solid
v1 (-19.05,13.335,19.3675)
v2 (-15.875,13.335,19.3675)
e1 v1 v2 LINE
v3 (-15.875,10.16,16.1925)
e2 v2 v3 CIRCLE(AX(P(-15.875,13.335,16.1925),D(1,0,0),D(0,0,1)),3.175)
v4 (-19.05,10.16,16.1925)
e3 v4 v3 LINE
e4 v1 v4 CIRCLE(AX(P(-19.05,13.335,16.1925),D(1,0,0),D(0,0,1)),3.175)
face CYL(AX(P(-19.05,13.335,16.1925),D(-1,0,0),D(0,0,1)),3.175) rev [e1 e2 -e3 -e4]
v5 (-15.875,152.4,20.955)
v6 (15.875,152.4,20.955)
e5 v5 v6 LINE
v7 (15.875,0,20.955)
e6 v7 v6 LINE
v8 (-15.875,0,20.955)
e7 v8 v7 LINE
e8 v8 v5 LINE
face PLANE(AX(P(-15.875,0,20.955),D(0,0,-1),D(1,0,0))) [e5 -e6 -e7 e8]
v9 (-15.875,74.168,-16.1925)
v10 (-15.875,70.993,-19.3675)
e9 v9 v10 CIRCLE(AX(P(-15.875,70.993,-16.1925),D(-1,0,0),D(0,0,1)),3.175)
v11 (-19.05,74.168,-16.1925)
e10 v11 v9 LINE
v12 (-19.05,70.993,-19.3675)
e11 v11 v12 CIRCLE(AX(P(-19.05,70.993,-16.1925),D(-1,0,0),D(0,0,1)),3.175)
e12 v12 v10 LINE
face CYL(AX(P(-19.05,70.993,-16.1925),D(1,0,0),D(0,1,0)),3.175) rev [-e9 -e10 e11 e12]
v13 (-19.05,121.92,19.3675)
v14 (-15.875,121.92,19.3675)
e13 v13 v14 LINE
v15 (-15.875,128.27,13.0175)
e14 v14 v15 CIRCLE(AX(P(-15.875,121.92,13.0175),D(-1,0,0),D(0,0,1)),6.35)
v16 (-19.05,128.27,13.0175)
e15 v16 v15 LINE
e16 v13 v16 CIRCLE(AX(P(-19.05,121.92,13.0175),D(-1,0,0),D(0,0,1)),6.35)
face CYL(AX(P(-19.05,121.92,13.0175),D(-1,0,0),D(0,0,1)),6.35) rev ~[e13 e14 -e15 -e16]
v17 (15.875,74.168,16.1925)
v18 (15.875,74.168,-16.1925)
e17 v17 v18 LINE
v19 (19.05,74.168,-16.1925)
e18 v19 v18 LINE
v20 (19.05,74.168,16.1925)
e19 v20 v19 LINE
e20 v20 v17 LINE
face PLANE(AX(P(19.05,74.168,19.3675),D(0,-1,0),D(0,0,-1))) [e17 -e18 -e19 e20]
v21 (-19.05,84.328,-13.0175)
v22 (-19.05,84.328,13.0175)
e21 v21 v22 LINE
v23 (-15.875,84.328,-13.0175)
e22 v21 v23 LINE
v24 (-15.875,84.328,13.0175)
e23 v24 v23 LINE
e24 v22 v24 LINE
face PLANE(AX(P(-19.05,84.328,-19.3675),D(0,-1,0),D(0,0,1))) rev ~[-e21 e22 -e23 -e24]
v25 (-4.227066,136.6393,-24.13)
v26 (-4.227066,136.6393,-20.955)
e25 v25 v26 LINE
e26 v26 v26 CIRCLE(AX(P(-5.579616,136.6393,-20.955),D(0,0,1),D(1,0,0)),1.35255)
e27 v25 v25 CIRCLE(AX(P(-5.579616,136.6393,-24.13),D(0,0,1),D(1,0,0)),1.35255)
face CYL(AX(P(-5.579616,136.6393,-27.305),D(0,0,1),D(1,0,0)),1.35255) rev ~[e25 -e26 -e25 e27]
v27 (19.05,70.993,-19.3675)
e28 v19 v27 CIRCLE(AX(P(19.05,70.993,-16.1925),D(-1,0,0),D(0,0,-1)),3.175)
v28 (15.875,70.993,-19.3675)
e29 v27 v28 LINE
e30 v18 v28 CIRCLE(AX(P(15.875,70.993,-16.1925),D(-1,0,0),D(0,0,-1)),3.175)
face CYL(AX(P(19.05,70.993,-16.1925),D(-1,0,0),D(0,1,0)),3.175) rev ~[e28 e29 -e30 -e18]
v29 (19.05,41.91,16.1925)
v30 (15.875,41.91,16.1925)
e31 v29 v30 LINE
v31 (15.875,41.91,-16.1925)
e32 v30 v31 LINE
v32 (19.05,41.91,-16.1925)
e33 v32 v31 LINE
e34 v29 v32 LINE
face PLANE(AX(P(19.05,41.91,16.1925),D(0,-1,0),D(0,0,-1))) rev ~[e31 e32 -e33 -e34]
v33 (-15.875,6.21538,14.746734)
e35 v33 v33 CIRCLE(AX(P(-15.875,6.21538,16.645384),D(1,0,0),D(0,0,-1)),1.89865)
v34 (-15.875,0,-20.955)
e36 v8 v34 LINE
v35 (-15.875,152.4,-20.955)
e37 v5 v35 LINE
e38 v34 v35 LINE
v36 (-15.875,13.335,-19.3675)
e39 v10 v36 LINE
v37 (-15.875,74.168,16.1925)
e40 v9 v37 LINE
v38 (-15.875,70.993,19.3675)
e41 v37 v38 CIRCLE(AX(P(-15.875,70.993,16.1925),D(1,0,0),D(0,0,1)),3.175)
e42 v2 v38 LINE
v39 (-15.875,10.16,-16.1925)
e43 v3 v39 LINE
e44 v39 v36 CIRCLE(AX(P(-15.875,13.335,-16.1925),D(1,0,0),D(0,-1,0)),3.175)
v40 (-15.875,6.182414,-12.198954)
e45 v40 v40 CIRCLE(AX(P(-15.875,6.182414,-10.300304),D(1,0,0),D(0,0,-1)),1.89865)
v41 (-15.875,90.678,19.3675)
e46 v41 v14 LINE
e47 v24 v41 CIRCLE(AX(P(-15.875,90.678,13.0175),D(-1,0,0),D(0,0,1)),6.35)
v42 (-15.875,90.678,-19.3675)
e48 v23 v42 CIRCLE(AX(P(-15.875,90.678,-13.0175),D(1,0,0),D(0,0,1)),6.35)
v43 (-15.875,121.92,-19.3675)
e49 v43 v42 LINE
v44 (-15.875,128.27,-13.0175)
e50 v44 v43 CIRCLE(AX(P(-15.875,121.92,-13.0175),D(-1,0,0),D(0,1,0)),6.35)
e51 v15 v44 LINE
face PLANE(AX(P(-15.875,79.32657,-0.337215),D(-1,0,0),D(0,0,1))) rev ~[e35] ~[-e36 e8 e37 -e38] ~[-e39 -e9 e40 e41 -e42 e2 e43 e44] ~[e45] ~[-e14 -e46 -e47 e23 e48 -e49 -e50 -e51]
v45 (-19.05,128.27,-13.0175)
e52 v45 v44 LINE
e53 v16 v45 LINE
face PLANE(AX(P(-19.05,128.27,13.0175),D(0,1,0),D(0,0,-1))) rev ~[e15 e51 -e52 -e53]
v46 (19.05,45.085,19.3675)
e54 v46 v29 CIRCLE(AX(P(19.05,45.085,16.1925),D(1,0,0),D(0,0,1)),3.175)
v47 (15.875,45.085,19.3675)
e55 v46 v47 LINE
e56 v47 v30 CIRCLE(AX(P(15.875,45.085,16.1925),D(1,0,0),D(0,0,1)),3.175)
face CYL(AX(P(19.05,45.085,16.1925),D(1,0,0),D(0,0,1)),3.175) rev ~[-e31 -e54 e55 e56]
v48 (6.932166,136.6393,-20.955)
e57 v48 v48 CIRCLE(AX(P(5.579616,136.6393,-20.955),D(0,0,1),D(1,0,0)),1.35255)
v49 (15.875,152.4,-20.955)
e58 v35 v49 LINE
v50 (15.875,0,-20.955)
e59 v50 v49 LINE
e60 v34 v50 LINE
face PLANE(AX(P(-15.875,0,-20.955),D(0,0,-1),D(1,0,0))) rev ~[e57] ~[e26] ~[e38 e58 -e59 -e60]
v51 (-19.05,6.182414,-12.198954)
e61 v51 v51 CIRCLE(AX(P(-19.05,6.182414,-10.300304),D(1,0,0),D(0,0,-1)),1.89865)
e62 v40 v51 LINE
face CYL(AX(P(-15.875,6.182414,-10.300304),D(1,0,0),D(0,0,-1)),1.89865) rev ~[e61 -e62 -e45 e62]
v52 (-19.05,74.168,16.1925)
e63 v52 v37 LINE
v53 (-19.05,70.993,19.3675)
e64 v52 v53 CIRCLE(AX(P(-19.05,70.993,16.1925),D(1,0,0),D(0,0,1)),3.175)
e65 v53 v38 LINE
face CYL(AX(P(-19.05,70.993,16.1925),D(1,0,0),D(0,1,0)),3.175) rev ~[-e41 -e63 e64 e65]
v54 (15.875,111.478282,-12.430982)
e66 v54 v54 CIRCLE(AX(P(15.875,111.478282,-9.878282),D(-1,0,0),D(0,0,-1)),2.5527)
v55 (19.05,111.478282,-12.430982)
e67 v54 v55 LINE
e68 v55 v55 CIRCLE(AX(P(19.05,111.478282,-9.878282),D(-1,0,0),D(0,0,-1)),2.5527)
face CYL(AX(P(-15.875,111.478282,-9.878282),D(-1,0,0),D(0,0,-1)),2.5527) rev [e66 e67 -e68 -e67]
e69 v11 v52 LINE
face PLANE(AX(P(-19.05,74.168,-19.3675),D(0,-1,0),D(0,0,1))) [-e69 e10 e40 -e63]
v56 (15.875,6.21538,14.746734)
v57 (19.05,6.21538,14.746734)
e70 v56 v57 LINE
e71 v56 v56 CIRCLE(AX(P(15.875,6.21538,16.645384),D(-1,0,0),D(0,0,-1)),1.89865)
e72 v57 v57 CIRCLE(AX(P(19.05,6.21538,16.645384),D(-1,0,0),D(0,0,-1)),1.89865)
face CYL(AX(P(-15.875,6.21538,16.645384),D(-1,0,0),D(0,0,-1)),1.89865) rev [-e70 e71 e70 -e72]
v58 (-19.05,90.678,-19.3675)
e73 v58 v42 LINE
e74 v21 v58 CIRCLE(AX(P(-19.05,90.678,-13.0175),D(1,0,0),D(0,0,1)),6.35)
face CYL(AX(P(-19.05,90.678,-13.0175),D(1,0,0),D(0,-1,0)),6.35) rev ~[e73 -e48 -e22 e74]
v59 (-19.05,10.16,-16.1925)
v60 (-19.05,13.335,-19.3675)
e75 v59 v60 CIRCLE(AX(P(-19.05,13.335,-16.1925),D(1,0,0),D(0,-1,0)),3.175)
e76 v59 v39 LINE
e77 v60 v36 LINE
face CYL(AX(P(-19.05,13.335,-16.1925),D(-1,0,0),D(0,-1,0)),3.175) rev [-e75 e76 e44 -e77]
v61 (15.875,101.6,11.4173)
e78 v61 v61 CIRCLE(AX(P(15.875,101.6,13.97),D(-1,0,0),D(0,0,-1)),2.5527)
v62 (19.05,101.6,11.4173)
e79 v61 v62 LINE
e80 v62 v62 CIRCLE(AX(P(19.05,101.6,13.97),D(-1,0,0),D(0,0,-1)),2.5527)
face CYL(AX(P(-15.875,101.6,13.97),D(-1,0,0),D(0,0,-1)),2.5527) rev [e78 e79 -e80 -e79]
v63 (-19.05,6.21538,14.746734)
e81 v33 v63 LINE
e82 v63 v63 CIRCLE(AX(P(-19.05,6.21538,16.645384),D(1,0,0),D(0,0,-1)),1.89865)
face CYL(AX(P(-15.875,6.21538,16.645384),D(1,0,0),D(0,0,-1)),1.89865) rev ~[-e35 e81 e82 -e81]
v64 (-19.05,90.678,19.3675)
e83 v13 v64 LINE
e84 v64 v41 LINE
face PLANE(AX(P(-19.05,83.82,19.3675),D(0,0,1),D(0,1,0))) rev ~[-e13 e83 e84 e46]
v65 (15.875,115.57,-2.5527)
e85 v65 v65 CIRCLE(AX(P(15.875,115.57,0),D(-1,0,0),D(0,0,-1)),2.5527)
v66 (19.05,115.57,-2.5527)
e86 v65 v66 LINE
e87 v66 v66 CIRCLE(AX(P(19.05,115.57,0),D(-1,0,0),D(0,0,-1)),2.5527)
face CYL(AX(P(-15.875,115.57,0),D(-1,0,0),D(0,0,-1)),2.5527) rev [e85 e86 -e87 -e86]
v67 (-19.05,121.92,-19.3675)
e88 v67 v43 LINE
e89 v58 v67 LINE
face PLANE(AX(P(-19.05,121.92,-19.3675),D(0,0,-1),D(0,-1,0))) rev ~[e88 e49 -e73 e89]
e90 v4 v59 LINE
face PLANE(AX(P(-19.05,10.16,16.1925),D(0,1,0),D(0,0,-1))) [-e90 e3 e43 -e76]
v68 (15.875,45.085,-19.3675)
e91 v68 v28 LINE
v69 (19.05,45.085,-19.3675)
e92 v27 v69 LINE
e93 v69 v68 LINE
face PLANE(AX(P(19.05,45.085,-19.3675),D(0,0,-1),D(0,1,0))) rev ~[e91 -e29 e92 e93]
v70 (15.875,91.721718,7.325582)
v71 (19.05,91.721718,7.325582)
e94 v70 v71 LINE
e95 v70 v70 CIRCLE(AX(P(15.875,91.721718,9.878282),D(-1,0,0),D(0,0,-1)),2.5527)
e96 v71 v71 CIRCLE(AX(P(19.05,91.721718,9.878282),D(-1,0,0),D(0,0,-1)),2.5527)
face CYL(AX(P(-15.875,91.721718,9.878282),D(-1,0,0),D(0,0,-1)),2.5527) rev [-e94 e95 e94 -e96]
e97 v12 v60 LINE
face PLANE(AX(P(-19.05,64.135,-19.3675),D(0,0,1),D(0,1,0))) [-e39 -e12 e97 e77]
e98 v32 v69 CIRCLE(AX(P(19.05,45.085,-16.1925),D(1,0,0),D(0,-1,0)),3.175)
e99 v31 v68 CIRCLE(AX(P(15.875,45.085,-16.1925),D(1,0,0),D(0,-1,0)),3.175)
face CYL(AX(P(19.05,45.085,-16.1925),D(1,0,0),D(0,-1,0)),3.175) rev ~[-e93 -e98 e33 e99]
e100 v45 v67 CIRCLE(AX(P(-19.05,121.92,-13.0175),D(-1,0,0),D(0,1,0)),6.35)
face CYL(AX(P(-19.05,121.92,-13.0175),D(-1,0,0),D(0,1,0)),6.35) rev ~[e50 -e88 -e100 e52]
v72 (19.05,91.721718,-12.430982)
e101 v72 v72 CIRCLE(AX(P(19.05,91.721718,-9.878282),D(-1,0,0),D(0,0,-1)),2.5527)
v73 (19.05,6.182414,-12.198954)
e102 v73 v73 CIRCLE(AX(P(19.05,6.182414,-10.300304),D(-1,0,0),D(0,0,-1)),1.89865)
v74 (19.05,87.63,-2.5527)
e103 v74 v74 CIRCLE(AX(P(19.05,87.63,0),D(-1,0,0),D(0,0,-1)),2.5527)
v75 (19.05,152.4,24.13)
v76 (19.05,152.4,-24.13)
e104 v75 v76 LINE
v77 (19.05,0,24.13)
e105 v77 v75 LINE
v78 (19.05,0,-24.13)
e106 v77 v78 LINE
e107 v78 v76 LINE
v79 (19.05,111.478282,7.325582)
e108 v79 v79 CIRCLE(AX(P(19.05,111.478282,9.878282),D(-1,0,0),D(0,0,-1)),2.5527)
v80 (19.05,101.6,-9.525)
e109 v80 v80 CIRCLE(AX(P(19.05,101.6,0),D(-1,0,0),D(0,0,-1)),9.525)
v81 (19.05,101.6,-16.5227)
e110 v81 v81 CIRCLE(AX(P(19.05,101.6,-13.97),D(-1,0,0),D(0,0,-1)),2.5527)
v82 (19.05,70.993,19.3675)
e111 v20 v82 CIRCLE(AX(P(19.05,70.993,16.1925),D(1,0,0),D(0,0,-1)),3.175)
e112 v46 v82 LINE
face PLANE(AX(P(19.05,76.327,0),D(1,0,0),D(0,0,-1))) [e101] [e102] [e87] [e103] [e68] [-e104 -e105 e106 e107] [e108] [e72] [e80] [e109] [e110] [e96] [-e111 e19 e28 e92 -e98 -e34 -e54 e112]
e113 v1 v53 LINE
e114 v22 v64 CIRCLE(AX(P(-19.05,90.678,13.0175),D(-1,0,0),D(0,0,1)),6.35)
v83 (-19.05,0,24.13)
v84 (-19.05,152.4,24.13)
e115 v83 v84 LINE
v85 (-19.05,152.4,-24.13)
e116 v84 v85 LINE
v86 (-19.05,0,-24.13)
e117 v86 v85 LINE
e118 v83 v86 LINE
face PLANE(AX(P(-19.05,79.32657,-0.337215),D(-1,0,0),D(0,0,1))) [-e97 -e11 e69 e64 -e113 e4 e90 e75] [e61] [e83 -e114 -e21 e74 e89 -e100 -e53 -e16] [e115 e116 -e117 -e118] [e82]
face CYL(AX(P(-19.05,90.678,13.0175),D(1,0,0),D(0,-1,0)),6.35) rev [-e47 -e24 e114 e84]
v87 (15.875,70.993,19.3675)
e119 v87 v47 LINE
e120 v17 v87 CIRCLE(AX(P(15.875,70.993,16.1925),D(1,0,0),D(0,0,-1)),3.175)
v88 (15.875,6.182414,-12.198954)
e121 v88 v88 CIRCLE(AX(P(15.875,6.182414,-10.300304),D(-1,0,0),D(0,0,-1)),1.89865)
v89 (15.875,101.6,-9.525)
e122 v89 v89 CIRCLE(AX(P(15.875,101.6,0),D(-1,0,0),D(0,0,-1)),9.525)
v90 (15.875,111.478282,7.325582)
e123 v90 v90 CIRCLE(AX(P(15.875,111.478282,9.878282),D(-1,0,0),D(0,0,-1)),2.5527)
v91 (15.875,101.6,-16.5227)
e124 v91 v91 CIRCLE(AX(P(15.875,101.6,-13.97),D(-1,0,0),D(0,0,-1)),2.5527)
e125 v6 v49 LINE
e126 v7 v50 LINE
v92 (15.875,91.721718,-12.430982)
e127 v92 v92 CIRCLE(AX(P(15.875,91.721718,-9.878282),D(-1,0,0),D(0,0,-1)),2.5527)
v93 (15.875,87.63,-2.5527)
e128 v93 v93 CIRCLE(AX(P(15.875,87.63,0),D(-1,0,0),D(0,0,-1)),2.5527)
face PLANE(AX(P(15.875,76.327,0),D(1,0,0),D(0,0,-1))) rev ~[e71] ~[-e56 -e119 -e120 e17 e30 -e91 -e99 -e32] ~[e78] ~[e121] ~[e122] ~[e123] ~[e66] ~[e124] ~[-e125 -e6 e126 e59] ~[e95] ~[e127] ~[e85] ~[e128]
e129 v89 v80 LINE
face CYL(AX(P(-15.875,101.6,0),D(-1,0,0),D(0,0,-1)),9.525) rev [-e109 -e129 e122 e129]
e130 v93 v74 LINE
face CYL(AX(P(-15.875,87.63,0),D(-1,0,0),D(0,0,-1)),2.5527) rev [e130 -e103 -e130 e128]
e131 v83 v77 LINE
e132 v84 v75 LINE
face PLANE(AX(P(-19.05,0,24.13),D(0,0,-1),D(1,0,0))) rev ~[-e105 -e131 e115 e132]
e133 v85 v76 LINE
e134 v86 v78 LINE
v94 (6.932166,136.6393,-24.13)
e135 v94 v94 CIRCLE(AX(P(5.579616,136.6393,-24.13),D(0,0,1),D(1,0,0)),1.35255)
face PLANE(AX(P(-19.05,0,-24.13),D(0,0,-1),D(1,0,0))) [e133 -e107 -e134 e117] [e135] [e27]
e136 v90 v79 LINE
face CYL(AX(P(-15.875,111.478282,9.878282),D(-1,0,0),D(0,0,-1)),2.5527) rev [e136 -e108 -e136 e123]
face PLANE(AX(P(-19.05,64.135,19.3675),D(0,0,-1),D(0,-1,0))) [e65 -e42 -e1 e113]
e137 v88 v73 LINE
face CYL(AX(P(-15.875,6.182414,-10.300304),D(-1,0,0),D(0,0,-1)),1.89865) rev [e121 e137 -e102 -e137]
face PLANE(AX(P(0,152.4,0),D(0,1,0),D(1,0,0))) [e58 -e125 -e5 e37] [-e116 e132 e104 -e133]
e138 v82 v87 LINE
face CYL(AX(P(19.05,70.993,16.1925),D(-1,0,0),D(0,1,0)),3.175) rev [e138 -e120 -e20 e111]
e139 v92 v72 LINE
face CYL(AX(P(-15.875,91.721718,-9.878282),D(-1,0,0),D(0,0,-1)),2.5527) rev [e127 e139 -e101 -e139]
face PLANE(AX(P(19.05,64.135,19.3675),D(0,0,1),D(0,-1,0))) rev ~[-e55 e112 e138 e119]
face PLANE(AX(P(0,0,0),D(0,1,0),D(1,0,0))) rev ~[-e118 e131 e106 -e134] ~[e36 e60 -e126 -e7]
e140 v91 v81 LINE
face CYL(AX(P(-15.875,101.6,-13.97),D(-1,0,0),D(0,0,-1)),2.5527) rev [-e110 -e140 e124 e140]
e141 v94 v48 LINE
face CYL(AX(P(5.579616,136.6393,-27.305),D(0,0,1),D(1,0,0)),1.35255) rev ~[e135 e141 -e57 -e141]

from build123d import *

# Parameters (mm, degrees)
SKETCH1_W                      = 38.1
SKETCH1_H                      = 48.26
SKETCH1_W_2                    = 31.75
SKETCH1_H_2                    = 41.91
BOSS_EXTRUDE1_DEPTH            = 152.4
SKETCH2_R                      = 1.89865
CUT_EXTRUDE1_DEPTH             = 35.925
CUT_EXTRUDE1_DEPTH_BACK        = 4.175
CUT_EXTRUDE3_DEPTH             = 3.175
CUT_EXTRUDE4_DEPTH             = 3.175
CUT_EXTRUDE5_REACH             = 36.925
SKETCH6_R                      = 9.525
SKETCH6_R_2                    = 2.5527
CUT_EXTRUDE6_DEPTH             = 3.175
F_6_32_TAPPED_HOLE2_D          = 2.7051
F_6_32_TAPPED_HOLE2_DEPTH      = 3.175
CUT_EXTRUDE7_REACH             = 40.1
CUT_EXTRUDE7_DIRECTION_2_DEPTH = 1
FILLET1_R                      = 3.175
FILLET2_R                      = 3.175
BOSS_EXTRUDE2_DEPTH            = 3.175
CUT_EXTRUDE8_REACH             = 40.1
FILLET3_R                      = 3.175
FILLET4_R                      = 3.175
FILLET5_R                      = 6.35
FILLET6_R                      = 6.35
BOSS_EXTRUDE3_DEPTH            = 3.175
CUT_EXTRUDE9_REACH             = 40.1
BOSS_EXTRUDE4_DEPTH            = 3.175
FILLET7_R                      = 3.175
FILLET8_R                      = 3.175
FILLET9_R                      = 3.175
FILLET10_R                     = 3.175
FILLET11_R                     = 6.35
FILLET12_R                     = 6.35


with BuildPart() as part:
    # Sketch1 → Boss-Extrude1 (new body)
    with BuildSketch(Plane(origin=(0, 0, 0), x_dir=(1, 0, 0), z_dir=(0, 1, 0))):
        Rectangle(SKETCH1_W, SKETCH1_H)
        Rectangle(SKETCH1_W_2, SKETCH1_H_2, mode=Mode.SUBTRACT)
    extrude(amount=BOSS_EXTRUDE1_DEPTH)

    # Sketch2 → Cut-Extrude1 (cut, two sides)
    with BuildSketch(Plane(origin=(-15.875, 0, 0), x_dir=(0, 0, -1), z_dir=(1, 0, 0))) as cut_extrude1_sk:
        with Locations((-16.645384182, 6.21538)):
            Circle(SKETCH2_R)
        with Locations((10.30030417, 6.18241423)):
            Circle(SKETCH2_R)
    extrude(amount=CUT_EXTRUDE1_DEPTH, mode=Mode.SUBTRACT)
    extrude(cut_extrude1_sk.sketch, amount=-CUT_EXTRUDE1_DEPTH_BACK, mode=Mode.SUBTRACT)

    # Sketch4 → Cut-Extrude3 (cut)
    with BuildSketch(Plane.ZY.offset(19.05)):
        with BuildLine():
            Line((16.1925, 10.16), (-16.1925, 10.16))
            ThreePointArc((-16.1925, 10.16), (-18.43756403, 11.08993597), (-19.3675, 13.335))
            Line((-19.3675, 13.335), (-19.3675, 64.135))
            ThreePointArc((-19.3675, 64.135), (-18.43756403, 66.38006403), (-16.1925, 67.31))
            Line((-16.1925, 67.31), (16.1925, 67.31))
            ThreePointArc((16.1925, 67.31), (18.43756403, 66.38006403), (19.3675, 64.135))
            Line((19.3675, 64.135), (19.3675, 13.335))
            ThreePointArc((19.3675, 13.335), (18.43756403, 11.08993597), (16.1925, 10.16))
        make_face()
    extrude(amount=-CUT_EXTRUDE3_DEPTH, mode=Mode.SUBTRACT)

    # Sketch5 → Cut-Extrude4 (cut)
    with BuildSketch(Plane(origin=(19.05, 0, 0), x_dir=(0, 0, -1), z_dir=(1, 0, 0))):
        with BuildLine():
            Line((16.1925, 67.31), (-16.1925, 67.31))
            ThreePointArc((-16.1925, 67.31), (-18.43756403, 66.38006403), (-19.3675, 64.135))
            Line((-19.3675, 64.135), (-19.3675, 45.085))
            ThreePointArc((-19.3675, 45.085), (-18.43756403, 42.83993597), (-16.1925, 41.91))
            Line((-16.1925, 41.91), (16.1925, 41.91))
            ThreePointArc((16.1925, 41.91), (18.43756403, 42.83993597), (19.3675, 45.085))
            Line((19.3675, 45.085), (19.3675, 64.135))
            ThreePointArc((19.3675, 64.135), (18.43756403, 66.38006403), (16.1925, 67.31))
        make_face()
    extrude(amount=-CUT_EXTRUDE4_DEPTH, mode=Mode.SUBTRACT)

    # Sketch6 → Cut-Extrude5 (cut, up to next)
    with BuildSketch(Plane(origin=(-15.875, 0, 0), x_dir=(0, 0, -1), z_dir=(1, 0, 0)), mode=Mode.PRIVATE) as cut_extrude5_sk1:
        with Locations((0, 101.6)):
            Circle(SKETCH6_R)
    cut_extrude5_tool1 = extrude(cut_extrude5_sk1.sketch, amount=CUT_EXTRUDE5_REACH, mode=Mode.PRIVATE) & part.part
    add(cut_extrude5_tool1.solids().sort_by_distance((-15.875, 101.6, 0))[0], mode=Mode.SUBTRACT)
    # Sketch6 → Cut-Extrude5 (cut, up to next)
    with BuildSketch(Plane(origin=(-15.875, 0, 0), x_dir=(0, 0, -1), z_dir=(1, 0, 0)), mode=Mode.PRIVATE) as cut_extrude5_sk2:
        with Locations((0, 87.63)):
            Circle(SKETCH6_R_2)
    cut_extrude5_tool2 = extrude(cut_extrude5_sk2.sketch, amount=CUT_EXTRUDE5_REACH, mode=Mode.PRIVATE) & part.part
    add(cut_extrude5_tool2.solids().sort_by_distance((-15.875, 87.63, 0))[0], mode=Mode.SUBTRACT)
    # Sketch6 → Cut-Extrude5 (cut, up to next)
    with BuildSketch(Plane(origin=(-15.875, 0, 0), x_dir=(0, 0, -1), z_dir=(1, 0, 0)), mode=Mode.PRIVATE) as cut_extrude5_sk3:
        with Locations((-9.878281733, 91.721718267)):
            Circle(SKETCH6_R_2)
    cut_extrude5_tool3 = extrude(cut_extrude5_sk3.sketch, amount=CUT_EXTRUDE5_REACH, mode=Mode.PRIVATE) & part.part
    add(cut_extrude5_tool3.solids().sort_by_distance((-15.875, 91.721718, 9.878282))[0], mode=Mode.SUBTRACT)
    # Sketch6 → Cut-Extrude5 (cut, up to next)
    with BuildSketch(Plane(origin=(-15.875, 0, 0), x_dir=(0, 0, -1), z_dir=(1, 0, 0)), mode=Mode.PRIVATE) as cut_extrude5_sk4:
        with Locations((-13.97, 101.6)):
            Circle(SKETCH6_R_2)
    cut_extrude5_tool4 = extrude(cut_extrude5_sk4.sketch, amount=CUT_EXTRUDE5_REACH, mode=Mode.PRIVATE) & part.part
    add(cut_extrude5_tool4.solids().sort_by_distance((-15.875, 101.6, 13.97))[0], mode=Mode.SUBTRACT)
    # Sketch6 → Cut-Extrude5 (cut, up to next)
    with BuildSketch(Plane(origin=(-15.875, 0, 0), x_dir=(0, 0, -1), z_dir=(1, 0, 0)), mode=Mode.PRIVATE) as cut_extrude5_sk5:
        with Locations((-9.878281733, 111.478281733)):
            Circle(SKETCH6_R_2)
    cut_extrude5_tool5 = extrude(cut_extrude5_sk5.sketch, amount=CUT_EXTRUDE5_REACH, mode=Mode.PRIVATE) & part.part
    add(cut_extrude5_tool5.solids().sort_by_distance((-15.875, 111.478282, 9.878282))[0], mode=Mode.SUBTRACT)
    # Sketch6 → Cut-Extrude5 (cut, up to next)
    with BuildSketch(Plane(origin=(-15.875, 0, 0), x_dir=(0, 0, -1), z_dir=(1, 0, 0)), mode=Mode.PRIVATE) as cut_extrude5_sk6:
        with Locations((0, 115.57)):
            Circle(SKETCH6_R_2)
    cut_extrude5_tool6 = extrude(cut_extrude5_sk6.sketch, amount=CUT_EXTRUDE5_REACH, mode=Mode.PRIVATE) & part.part
    add(cut_extrude5_tool6.solids().sort_by_distance((-15.875, 115.57, 0))[0], mode=Mode.SUBTRACT)
    # Sketch6 → Cut-Extrude5 (cut, up to next)
    with BuildSketch(Plane(origin=(-15.875, 0, 0), x_dir=(0, 0, -1), z_dir=(1, 0, 0)), mode=Mode.PRIVATE) as cut_extrude5_sk7:
        with Locations((9.878281733, 111.478281733)):
            Circle(SKETCH6_R_2)
    cut_extrude5_tool7 = extrude(cut_extrude5_sk7.sketch, amount=CUT_EXTRUDE5_REACH, mode=Mode.PRIVATE) & part.part
    add(cut_extrude5_tool7.solids().sort_by_distance((-15.875, 111.478282, -9.878282))[0], mode=Mode.SUBTRACT)
    # Sketch6 → Cut-Extrude5 (cut, up to next)
    with BuildSketch(Plane(origin=(-15.875, 0, 0), x_dir=(0, 0, -1), z_dir=(1, 0, 0)), mode=Mode.PRIVATE) as cut_extrude5_sk8:
        with Locations((13.97, 101.6)):
            Circle(SKETCH6_R_2)
    cut_extrude5_tool8 = extrude(cut_extrude5_sk8.sketch, amount=CUT_EXTRUDE5_REACH, mode=Mode.PRIVATE) & part.part
    add(cut_extrude5_tool8.solids().sort_by_distance((-15.875, 101.6, -13.97))[0], mode=Mode.SUBTRACT)
    # Sketch6 → Cut-Extrude5 (cut, up to next)
    with BuildSketch(Plane(origin=(-15.875, 0, 0), x_dir=(0, 0, -1), z_dir=(1, 0, 0)), mode=Mode.PRIVATE) as cut_extrude5_sk9:
        with Locations((9.878281733, 91.721718267)):
            Circle(SKETCH6_R_2)
    cut_extrude5_tool9 = extrude(cut_extrude5_sk9.sketch, amount=CUT_EXTRUDE5_REACH, mode=Mode.PRIVATE) & part.part
    add(cut_extrude5_tool9.solids().sort_by_distance((-15.875, 91.721718, -9.878282))[0], mode=Mode.SUBTRACT)

    # Sketch7 → Cut-Extrude6 (cut)
    with BuildSketch(Plane.ZY.offset(19.05)):
        with BuildLine():
            Line((-13.0175, 77.47), (13.0175, 77.47))
            ThreePointArc((13.0175, 77.47), (17.507628061, 79.329871939), (19.3675, 83.82))
            Line((19.3675, 83.82), (19.3675, 121.92))
            ThreePointArc((19.3675, 121.92), (17.507628061, 126.410128061), (13.0175, 128.27))
            Line((13.0175, 128.27), (-13.0175, 128.27))
            ThreePointArc((-13.0175, 128.27), (-17.507628061, 126.410128061), (-19.3675, 121.92))
            Line((-19.3675, 121.92), (-19.3675, 83.82))
            ThreePointArc((-19.3675, 83.82), (-17.507628061, 79.329871939), (-13.0175, 77.47))
        make_face()
    extrude(amount=-CUT_EXTRUDE6_DEPTH, mode=Mode.SUBTRACT)

    # #6-32 Tapped Hole2
    with Locations(Plane(origin=(5.579615818, 136.6393, -24.13), x_dir=(-1, 0, 0), z_dir=(0, 0, -1))):
        with Locations((0, 0), (11.159231636, 0)):
            Hole(F_6_32_TAPPED_HOLE2_D / 2, depth=F_6_32_TAPPED_HOLE2_DEPTH)

    # Sketch13 → Cut-Extrude7 (cut, up to next)
    with BuildSketch(Plane(origin=(19.05, 0, 0), x_dir=(0, 0, -1), z_dir=(1, 0, 0)), mode=Mode.PRIVATE) as cut_extrude7_sk1:
        Polygon((0, 78.486), (19.3675, 78.486), (19.3675, 64.135), (-19.3675, 64.135), (-19.3675, 78.486), align=None)
    cut_extrude7_tool1 = extrude(cut_extrude7_sk1.sketch, amount=-CUT_EXTRUDE7_REACH, mode=Mode.PRIVATE) & part.part
    add(cut_extrude7_tool1.solids().sort_by_distance((19.05, 71.3105, 0))[0], mode=Mode.SUBTRACT)

    # Sketch13 → Cut-Extrude7 direction 2 (cut)
    with BuildSketch(Plane(origin=(19.05, 0, 0), x_dir=(0, 0, -1), z_dir=(1, 0, 0))):
        Polygon((0, 78.486), (19.3675, 78.486), (19.3675, 64.135), (-19.3675, 64.135), (-19.3675, 78.486), align=None)
    extrude(amount=CUT_EXTRUDE7_DIRECTION_2_DEPTH, mode=Mode.SUBTRACT)

    # Fillet1
    fillet1_edges = [part.edges().sort_by_distance(p)[0] for p in [
        (17.4625, 78.486, -19.3675),
    ]]
    fillet(fillet1_edges, radius=FILLET1_R)

    # Fillet2
    fillet2_edges = [part.edges().sort_by_distance(p)[0] for p in [
        (17.4625, 78.486, 19.3675),
    ]]
    fillet(fillet2_edges, radius=FILLET2_R)

    # Sketch15 → Boss-Extrude2 (add)
    with BuildSketch(Plane.ZY.offset(19.05)):
        Polygon((0, 78.486), (-19.3675, 78.486), (-19.3675, 88.646), (0, 88.646), (19.3675, 88.646), (19.3675, 78.486), align=None)
    extrude(amount=-BOSS_EXTRUDE2_DEPTH)

    # Sketch16 → Cut-Extrude8 (cut, up to next)
    with BuildSketch(Plane.ZY.offset(19.05), mode=Mode.PRIVATE) as cut_extrude8_sk1:
        Polygon((0, 78.486), (19.3675, 78.486), (19.3675, 64.135), (-19.3675, 64.135), (-19.3675, 78.486), align=None)
    cut_extrude8_tool1 = extrude(cut_extrude8_sk1.sketch, amount=-CUT_EXTRUDE8_REACH, mode=Mode.PRIVATE) & part.part
    add(cut_extrude8_tool1.solids().sort_by_distance((-19.05, 71.3105, 0))[0], mode=Mode.SUBTRACT)

    # Fillet3
    fillet3_edges = [part.edges().sort_by_distance(p)[0] for p in [
        (-17.4625, 78.486, 19.3675),
    ]]
    fillet(fillet3_edges, radius=FILLET3_R)

    # Fillet4
    fillet4_edges = [part.edges().sort_by_distance(p)[0] for p in [
        (-17.4625, 78.486, -19.3675),
    ]]
    fillet(fillet4_edges, radius=FILLET4_R)

    # Fillet5
    fillet5_edges = [part.edges().sort_by_distance(p)[0] for p in [
        (-17.4625, 88.646, -19.3675),
    ]]
    fillet(fillet5_edges, radius=FILLET5_R)

    # Fillet6
    fillet6_edges = [part.edges().sort_by_distance(p)[0] for p in [
        (-17.4625, 88.646, 19.3675),
    ]]
    fillet(fillet6_edges, radius=FILLET6_R)

    # Sketch17 → Boss-Extrude3 (add)
    with BuildSketch(Plane.ZY.offset(19.05)):
        Polygon((0, 74.168), (19.3675, 74.168), (19.3675, 84.35471455), (-20.6375, 84.35471455), (-19.3675, 74.168), align=None)
    extrude(amount=-BOSS_EXTRUDE3_DEPTH)

    # Sketch18 → Cut-Extrude9 (cut, up to next)
    with BuildSketch(Plane.ZY.offset(19.05), mode=Mode.PRIVATE) as cut_extrude9_sk1:
        Polygon((0, 84.328), (-19.3675, 84.328), (-19.3675, 94.996), (19.3675, 94.996), (19.3675, 84.328), align=None)
    cut_extrude9_tool1 = extrude(cut_extrude9_sk1.sketch, amount=-CUT_EXTRUDE9_REACH, mode=Mode.PRIVATE) & part.part
    add(cut_extrude9_tool1.solids().sort_by_distance((-19.05, 89.662, 0))[0], mode=Mode.SUBTRACT)

    # Sketch19 → Boss-Extrude4 (add)
    with BuildSketch(Plane(origin=(19.05, 0, 0), x_dir=(0, 0, -1), z_dir=(1, 0, 0))):
        Polygon((0, 74.168), (19.3675, 74.168), (19.3675, 78.486), (-19.3675, 78.486), (-19.3675, 74.168), align=None)
    extrude(amount=-BOSS_EXTRUDE4_DEPTH)

    # Fillet7
    fillet7_edges = [part.edges().sort_by_distance(p)[0] for p in [
        (17.4625, 74.168, -19.3675),
    ]]
    fillet(fillet7_edges, radius=FILLET7_R)

    # Fillet8
    fillet8_edges = [part.edges().sort_by_distance(p)[0] for p in [
        (17.4625, 74.168, 19.3675),
    ]]
    fillet(fillet8_edges, radius=FILLET8_R)

    # Fillet9
    fillet9_edges = [part.edges().sort_by_distance(p)[0] for p in [
        (-17.4625, 74.168, 19.3675),
    ]]
    fillet(fillet9_edges, radius=FILLET9_R)

    # Fillet10
    fillet10_edges = [part.edges().sort_by_distance(p)[0] for p in [
        (-17.4625, 74.168, -19.3675),
    ]]
    fillet(fillet10_edges, radius=FILLET10_R)

    # Fillet11
    fillet11_edges = [part.edges().sort_by_distance(p)[0] for p in [
        (-17.4625, 84.328, -19.3675),
    ]]
    fillet(fillet11_edges, radius=FILLET11_R)

    # Fillet12
    fillet12_edges = [part.edges().sort_by_distance(p)[0] for p in [
        (-17.4625, 84.328, 19.3675),
    ]]
    fillet(fillet12_edges, radius=FILLET12_R)


solid = part.part
